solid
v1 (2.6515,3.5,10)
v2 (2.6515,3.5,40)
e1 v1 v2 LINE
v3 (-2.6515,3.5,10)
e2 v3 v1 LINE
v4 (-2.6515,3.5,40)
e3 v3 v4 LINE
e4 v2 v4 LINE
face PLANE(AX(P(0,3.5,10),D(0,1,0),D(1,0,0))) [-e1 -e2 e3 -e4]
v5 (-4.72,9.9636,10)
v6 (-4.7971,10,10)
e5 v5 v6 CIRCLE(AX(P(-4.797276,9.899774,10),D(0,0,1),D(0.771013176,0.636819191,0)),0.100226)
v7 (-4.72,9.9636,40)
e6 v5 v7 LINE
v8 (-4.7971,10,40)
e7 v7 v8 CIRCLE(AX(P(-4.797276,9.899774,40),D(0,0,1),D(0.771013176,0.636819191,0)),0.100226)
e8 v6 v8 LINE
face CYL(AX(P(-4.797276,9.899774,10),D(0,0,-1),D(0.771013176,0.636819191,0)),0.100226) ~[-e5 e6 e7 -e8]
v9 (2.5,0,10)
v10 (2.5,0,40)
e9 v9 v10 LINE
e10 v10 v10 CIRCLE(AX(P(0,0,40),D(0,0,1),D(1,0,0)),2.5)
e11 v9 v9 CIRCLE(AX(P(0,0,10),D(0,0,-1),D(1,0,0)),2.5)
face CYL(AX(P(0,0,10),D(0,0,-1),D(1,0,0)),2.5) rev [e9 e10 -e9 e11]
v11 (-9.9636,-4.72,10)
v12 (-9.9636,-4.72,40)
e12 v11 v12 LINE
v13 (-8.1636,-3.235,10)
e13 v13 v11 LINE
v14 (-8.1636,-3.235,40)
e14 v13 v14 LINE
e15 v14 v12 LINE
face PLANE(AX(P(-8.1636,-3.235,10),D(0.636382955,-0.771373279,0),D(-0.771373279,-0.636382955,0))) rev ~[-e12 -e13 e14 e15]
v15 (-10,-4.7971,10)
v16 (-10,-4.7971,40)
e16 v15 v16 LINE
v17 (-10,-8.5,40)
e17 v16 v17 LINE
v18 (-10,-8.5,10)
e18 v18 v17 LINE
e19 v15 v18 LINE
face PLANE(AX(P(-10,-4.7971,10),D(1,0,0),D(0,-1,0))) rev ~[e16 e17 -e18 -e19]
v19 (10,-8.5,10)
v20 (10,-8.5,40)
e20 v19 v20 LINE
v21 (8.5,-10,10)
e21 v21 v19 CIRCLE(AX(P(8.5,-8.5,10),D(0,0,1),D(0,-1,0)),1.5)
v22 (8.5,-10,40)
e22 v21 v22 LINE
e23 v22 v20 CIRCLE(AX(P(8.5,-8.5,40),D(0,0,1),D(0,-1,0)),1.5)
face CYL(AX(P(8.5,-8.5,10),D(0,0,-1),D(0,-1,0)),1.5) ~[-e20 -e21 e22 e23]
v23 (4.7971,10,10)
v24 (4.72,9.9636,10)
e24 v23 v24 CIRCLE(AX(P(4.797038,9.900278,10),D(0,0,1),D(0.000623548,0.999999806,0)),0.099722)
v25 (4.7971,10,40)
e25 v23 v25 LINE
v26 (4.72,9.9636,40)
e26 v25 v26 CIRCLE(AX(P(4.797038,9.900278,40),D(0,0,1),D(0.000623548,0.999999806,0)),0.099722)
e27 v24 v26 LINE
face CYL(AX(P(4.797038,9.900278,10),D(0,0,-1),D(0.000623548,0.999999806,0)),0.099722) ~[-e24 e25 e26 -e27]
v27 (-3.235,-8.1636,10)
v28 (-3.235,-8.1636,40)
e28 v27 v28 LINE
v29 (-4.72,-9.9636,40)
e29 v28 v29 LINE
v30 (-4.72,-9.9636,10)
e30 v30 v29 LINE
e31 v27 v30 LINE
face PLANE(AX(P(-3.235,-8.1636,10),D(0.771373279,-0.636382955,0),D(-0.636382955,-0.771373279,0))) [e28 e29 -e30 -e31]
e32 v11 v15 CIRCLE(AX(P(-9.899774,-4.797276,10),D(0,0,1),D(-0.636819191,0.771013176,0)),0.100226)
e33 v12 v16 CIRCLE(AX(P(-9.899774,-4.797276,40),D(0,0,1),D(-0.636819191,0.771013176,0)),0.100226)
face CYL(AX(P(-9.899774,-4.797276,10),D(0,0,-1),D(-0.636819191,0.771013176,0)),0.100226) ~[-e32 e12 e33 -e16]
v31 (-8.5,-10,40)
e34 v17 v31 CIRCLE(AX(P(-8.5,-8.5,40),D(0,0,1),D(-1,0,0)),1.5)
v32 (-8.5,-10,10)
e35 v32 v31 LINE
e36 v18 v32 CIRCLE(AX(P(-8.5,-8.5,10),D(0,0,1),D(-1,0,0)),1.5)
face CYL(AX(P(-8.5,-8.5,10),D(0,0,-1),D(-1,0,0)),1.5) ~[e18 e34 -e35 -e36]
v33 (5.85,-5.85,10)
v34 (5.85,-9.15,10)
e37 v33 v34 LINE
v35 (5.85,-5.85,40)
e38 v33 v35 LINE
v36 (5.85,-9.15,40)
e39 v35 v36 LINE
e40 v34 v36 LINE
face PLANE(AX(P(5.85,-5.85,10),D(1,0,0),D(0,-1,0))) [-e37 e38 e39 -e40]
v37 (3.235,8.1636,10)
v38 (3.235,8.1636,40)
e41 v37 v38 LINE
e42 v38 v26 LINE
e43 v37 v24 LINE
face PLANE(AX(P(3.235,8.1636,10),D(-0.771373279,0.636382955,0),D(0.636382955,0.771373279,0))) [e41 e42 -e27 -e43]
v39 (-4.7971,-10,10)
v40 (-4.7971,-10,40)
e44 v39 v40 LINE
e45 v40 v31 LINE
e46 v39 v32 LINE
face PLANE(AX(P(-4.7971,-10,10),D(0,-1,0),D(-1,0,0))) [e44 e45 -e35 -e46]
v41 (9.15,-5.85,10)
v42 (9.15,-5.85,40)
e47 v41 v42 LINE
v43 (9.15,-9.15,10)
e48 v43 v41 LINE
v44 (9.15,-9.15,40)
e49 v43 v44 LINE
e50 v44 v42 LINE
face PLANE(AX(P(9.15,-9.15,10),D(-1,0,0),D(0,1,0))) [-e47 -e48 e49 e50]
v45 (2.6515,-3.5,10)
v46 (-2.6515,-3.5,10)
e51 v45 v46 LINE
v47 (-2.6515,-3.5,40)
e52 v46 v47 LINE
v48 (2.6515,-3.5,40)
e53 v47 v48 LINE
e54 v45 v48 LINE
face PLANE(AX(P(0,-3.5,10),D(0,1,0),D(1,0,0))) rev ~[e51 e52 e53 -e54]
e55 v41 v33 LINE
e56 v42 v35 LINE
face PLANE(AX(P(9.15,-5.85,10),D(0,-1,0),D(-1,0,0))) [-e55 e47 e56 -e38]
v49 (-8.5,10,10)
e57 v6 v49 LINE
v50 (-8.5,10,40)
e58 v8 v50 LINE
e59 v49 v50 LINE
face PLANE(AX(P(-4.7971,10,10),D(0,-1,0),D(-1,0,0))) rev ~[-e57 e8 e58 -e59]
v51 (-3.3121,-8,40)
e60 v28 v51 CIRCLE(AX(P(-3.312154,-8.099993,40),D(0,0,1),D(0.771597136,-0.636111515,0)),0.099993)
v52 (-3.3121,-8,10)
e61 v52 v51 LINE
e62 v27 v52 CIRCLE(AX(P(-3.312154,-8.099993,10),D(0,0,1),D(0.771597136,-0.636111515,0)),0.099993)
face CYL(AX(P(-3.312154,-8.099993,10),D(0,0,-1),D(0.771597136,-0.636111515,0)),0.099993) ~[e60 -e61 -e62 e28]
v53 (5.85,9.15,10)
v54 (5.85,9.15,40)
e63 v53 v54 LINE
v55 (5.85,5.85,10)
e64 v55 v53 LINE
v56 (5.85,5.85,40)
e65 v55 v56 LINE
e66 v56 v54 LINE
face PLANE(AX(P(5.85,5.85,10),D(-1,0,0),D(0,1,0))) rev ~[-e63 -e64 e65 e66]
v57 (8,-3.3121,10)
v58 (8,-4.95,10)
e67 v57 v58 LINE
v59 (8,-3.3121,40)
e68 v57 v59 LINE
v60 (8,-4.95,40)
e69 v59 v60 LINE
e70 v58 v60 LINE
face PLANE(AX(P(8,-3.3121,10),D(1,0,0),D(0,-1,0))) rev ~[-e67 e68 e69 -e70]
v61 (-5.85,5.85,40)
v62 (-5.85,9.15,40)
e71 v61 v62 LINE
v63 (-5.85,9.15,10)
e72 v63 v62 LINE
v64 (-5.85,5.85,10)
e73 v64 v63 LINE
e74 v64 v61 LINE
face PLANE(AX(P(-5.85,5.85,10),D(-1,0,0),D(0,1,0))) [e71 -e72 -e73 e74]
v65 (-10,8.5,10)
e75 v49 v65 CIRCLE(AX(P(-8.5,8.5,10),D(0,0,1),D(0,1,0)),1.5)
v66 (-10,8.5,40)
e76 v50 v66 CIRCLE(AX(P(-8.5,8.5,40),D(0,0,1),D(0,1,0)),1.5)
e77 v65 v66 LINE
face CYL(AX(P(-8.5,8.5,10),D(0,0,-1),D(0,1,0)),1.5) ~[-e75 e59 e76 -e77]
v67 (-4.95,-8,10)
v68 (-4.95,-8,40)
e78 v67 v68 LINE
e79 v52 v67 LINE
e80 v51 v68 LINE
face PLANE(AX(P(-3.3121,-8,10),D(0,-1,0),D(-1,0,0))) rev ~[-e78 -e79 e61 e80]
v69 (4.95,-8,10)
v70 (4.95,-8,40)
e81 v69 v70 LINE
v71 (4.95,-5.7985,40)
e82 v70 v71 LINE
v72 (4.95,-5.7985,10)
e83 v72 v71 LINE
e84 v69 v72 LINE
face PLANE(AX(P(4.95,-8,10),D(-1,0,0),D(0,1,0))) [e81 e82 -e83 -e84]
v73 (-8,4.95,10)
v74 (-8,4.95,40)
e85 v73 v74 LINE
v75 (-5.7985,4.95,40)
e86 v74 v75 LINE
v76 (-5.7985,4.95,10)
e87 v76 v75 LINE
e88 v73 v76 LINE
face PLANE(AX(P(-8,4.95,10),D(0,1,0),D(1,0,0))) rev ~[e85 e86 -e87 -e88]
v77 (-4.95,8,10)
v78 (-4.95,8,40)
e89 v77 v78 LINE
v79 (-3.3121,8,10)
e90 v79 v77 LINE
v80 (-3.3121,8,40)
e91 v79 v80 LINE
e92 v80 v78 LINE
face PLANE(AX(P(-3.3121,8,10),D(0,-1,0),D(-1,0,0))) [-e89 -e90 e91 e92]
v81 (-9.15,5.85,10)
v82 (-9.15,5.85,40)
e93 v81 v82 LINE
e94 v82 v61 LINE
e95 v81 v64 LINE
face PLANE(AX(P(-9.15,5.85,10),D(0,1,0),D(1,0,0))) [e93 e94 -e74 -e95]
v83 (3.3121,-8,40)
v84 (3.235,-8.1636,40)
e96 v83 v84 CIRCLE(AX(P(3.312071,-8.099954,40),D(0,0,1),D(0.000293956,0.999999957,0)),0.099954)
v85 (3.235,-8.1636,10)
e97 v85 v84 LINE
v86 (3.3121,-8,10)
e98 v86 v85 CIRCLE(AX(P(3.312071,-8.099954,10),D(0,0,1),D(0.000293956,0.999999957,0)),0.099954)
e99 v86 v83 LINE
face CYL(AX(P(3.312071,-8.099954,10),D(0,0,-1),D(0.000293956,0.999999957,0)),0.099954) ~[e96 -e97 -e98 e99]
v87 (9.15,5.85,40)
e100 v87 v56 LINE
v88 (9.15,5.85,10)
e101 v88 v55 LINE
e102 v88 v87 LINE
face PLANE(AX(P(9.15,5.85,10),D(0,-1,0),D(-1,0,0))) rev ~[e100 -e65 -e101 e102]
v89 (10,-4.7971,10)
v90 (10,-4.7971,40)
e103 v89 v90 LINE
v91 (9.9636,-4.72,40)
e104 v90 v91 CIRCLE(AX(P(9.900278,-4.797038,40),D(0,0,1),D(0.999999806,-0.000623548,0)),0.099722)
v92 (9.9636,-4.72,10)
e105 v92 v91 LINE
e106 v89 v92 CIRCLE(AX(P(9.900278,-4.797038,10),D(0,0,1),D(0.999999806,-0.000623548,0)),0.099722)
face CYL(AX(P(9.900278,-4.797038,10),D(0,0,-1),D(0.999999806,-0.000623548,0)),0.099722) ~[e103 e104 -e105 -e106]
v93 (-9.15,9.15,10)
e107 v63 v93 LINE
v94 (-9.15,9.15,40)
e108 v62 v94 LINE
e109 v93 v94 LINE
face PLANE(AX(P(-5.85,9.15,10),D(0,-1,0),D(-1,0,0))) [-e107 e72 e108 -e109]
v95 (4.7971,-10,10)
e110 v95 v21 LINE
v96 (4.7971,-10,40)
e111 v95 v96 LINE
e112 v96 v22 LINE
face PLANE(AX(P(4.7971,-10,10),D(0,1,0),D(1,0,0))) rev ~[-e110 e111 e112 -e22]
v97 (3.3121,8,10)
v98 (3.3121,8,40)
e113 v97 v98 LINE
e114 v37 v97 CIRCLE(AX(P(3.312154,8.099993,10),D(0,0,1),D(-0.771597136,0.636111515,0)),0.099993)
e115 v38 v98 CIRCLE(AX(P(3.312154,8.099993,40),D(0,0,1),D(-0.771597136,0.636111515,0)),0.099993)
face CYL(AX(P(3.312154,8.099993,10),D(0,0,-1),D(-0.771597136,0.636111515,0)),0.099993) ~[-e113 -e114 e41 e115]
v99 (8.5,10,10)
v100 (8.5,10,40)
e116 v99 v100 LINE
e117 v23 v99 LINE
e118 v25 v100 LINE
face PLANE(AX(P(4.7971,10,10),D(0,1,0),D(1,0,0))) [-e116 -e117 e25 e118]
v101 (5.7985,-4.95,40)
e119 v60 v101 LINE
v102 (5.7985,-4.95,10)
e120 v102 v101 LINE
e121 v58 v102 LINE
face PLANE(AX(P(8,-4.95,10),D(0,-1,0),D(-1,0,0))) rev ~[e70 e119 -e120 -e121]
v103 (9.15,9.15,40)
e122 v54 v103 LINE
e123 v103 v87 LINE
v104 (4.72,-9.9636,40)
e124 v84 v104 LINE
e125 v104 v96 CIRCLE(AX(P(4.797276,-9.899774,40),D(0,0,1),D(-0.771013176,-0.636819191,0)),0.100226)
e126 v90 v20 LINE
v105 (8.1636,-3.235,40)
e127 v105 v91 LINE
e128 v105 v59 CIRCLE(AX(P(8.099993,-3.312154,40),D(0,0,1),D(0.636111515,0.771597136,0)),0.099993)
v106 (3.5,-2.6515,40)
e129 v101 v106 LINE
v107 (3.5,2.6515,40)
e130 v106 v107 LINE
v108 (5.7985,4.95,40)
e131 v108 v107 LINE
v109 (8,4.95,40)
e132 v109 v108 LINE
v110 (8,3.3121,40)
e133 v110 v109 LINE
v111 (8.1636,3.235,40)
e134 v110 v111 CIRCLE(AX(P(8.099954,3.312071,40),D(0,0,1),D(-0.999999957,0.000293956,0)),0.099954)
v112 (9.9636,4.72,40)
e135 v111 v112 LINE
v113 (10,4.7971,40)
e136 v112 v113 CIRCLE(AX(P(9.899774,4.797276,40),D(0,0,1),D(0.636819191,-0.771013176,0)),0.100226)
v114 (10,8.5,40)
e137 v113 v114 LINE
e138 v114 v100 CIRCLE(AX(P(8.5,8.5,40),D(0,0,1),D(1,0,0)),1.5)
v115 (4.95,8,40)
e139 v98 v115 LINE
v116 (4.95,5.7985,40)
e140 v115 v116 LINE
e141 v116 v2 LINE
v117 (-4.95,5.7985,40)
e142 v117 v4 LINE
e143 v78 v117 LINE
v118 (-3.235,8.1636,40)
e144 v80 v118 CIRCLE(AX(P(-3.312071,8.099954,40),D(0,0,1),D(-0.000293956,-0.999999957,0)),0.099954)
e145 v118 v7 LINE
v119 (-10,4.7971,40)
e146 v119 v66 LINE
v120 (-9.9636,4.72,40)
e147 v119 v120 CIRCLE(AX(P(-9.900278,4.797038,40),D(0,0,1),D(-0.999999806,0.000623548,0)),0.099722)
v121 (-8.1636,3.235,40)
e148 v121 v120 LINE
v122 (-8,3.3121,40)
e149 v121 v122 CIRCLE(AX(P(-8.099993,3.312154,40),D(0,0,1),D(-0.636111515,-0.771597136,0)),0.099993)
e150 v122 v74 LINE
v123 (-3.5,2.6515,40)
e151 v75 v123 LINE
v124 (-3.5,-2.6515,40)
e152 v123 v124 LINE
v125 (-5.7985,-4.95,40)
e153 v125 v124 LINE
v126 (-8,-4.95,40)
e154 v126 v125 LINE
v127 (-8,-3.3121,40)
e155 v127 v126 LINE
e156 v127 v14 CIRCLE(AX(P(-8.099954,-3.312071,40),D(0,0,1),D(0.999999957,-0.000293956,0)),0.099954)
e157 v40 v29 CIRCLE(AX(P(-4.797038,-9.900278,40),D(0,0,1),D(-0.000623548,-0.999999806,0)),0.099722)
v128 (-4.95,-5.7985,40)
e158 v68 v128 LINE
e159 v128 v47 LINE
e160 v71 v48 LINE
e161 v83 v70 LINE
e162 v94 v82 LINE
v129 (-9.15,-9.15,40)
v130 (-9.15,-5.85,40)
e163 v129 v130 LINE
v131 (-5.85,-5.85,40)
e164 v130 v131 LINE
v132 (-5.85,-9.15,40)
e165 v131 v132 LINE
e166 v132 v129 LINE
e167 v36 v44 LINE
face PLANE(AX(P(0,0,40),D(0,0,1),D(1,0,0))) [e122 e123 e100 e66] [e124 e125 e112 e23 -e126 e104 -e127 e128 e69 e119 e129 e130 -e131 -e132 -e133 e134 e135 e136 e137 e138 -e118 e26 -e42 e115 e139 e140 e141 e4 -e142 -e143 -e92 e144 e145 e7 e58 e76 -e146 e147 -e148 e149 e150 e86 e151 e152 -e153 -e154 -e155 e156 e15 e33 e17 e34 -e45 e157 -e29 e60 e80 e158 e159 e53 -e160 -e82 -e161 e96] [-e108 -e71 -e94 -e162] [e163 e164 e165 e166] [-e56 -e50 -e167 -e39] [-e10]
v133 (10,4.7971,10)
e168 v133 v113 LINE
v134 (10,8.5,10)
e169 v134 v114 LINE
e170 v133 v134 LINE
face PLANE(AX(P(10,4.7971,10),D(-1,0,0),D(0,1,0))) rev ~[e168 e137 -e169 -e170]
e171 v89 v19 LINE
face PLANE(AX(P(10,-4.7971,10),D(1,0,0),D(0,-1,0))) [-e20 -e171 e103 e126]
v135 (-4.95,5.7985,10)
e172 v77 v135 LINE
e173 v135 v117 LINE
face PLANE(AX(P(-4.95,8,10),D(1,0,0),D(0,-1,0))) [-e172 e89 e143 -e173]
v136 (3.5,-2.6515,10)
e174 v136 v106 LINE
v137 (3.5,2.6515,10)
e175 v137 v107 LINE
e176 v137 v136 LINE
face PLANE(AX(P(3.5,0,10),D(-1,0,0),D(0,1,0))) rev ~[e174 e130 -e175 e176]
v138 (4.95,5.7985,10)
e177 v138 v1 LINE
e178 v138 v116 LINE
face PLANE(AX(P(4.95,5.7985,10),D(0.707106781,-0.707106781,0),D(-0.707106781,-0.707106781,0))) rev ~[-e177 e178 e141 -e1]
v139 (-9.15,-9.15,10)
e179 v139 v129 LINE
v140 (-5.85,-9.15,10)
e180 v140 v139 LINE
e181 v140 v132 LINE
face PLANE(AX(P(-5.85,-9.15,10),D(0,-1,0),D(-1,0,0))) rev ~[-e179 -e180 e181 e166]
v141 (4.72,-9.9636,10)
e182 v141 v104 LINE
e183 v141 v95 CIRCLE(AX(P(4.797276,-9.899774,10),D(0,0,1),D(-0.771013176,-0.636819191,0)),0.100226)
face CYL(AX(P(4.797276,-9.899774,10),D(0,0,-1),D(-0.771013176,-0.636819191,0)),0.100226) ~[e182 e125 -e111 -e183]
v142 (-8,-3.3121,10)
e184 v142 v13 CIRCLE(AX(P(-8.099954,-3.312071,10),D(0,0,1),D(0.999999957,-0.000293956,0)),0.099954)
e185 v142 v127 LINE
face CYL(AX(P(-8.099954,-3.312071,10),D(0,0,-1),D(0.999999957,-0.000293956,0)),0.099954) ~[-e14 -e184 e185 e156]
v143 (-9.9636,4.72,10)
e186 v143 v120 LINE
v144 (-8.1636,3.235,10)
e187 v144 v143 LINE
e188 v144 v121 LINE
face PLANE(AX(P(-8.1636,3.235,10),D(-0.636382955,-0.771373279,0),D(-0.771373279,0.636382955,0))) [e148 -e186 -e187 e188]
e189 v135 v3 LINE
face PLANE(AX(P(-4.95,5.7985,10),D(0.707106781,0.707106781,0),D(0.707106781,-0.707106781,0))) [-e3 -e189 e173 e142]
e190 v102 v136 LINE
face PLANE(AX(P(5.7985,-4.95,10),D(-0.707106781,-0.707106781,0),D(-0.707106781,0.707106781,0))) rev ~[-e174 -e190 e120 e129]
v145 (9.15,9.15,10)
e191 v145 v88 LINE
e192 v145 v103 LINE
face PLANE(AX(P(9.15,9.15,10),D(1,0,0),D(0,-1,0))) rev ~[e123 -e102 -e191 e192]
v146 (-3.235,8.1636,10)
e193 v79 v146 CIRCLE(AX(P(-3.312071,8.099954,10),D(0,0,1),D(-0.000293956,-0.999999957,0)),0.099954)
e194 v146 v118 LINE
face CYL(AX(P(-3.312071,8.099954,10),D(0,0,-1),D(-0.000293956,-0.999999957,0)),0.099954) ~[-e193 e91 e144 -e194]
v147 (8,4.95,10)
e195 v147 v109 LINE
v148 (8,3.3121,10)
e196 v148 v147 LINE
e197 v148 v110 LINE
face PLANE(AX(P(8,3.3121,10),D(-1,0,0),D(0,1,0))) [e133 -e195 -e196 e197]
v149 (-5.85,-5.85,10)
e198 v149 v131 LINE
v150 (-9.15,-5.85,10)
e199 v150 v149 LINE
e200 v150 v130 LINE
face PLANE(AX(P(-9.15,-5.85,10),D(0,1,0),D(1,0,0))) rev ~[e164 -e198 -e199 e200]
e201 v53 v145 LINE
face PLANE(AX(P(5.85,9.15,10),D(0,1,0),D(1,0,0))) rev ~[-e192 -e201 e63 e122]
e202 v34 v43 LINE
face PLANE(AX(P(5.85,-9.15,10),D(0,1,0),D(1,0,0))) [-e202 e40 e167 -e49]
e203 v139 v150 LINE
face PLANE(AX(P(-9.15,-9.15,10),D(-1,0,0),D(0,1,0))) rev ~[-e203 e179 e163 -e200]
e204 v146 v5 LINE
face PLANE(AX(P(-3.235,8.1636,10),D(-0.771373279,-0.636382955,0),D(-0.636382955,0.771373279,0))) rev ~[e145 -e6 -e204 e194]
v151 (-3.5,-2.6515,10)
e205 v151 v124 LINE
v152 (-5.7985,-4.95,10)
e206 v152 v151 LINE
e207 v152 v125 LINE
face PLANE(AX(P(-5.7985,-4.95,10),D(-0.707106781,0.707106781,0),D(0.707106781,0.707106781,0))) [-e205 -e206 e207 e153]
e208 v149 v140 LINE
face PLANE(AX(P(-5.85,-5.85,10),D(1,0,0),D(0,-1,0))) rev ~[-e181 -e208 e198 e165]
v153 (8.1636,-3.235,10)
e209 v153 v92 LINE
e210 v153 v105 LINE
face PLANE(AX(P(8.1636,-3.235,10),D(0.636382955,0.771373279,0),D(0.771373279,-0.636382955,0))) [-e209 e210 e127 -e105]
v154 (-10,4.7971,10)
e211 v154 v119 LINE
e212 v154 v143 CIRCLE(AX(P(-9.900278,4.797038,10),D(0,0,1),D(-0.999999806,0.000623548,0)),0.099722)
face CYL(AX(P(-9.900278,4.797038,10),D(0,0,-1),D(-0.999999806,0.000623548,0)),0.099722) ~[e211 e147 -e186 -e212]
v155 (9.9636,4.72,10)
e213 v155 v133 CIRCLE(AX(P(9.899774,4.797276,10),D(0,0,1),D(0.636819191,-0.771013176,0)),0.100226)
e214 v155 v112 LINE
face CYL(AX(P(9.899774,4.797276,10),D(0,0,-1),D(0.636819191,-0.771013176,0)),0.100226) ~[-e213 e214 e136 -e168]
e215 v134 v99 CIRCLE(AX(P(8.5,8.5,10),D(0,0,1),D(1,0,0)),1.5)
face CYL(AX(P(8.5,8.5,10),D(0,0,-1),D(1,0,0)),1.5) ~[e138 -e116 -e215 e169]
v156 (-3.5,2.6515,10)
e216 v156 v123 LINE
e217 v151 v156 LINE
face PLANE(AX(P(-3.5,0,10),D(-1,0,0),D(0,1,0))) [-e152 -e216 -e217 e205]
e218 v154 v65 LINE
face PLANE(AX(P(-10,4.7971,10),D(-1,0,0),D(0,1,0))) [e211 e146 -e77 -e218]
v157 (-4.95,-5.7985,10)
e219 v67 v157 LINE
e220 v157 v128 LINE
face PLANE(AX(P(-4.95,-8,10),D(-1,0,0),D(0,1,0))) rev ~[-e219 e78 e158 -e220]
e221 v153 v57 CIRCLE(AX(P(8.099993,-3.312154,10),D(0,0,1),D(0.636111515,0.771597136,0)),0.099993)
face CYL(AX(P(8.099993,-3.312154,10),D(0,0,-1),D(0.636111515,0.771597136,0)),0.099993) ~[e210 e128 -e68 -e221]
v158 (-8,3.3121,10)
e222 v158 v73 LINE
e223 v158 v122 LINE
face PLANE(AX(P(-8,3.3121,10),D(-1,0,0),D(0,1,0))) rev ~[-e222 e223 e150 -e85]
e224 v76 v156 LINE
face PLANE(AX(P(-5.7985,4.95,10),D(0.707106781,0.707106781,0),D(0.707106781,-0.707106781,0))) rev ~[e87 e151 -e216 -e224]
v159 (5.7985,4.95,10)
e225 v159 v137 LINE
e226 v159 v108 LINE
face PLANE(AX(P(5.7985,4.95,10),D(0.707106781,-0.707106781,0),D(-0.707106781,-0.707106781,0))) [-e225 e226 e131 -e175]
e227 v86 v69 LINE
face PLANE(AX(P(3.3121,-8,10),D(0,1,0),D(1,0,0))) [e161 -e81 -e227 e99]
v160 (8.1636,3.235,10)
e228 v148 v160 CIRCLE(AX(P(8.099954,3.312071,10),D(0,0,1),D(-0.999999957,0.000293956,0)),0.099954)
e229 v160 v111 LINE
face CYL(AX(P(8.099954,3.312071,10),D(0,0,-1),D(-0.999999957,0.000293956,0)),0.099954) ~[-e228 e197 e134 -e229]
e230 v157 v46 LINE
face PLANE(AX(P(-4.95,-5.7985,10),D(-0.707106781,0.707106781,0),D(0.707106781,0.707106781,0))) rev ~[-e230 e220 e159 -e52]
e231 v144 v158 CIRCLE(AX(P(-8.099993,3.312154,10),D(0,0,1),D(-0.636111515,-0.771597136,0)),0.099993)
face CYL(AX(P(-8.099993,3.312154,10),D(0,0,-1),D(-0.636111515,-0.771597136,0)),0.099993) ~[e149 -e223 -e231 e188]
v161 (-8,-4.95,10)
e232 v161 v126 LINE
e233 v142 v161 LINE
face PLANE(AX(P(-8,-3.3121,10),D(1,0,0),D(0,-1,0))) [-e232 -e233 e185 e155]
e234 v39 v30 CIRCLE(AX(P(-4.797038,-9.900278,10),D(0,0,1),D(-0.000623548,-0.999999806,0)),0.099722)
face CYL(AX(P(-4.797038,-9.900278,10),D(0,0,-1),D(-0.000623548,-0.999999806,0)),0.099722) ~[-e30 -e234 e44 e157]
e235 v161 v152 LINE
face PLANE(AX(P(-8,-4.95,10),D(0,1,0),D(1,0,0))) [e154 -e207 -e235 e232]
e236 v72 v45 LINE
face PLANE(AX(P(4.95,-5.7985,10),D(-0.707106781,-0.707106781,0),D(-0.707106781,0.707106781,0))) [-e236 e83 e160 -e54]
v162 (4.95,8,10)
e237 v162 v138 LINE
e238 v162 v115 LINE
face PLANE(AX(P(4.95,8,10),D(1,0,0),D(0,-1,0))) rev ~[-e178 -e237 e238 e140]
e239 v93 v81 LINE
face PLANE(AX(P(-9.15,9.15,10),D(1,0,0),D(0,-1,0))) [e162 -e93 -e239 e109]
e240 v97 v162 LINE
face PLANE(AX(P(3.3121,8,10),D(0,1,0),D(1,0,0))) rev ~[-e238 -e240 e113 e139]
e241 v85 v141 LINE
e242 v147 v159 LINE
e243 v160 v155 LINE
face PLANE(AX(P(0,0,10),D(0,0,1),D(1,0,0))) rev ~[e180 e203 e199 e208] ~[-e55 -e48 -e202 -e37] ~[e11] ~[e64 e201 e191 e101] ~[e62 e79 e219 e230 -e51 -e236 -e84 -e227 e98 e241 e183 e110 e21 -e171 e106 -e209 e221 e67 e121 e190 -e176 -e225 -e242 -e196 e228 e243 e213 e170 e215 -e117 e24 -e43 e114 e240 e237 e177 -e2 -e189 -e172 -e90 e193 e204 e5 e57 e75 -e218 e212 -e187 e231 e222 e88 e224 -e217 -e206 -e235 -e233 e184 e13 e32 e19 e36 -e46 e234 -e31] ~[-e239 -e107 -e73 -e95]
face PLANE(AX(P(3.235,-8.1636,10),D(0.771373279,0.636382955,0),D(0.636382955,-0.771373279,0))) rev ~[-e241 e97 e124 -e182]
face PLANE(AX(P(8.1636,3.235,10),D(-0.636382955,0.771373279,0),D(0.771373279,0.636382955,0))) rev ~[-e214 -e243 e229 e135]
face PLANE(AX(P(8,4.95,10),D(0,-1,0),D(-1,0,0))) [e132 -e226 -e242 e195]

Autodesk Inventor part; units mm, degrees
ref_plane "Начальная плоскость" through (0, 0, 10) normal (0, 0, 1) x (1, 0, 0)
ref_plane "Конечная плоскость" through (0, 0, 40) normal (0, 0, 1) x (1, 0, 0)
sketch "Эскиз" plane through (0, 0, 0) normal (0, 0, 1) x (1, 0, 0)
  line L0 (-14.4349, 0) -> (14.4349, 0) projected
  line L1 (0, -14) -> (0, 14) projected
  line L2 (0, 0) -> (7.5, 7.5) construction
  circle A0 centre (7.5, 7.5) radius 1.65 construction
  line L3 (5.85, 9.15) -> (9.15, 9.15)
  line L4 (9.15, 9.15) -> (9.15, 5.85)
  line L5 (9.15, 5.85) -> (5.85, 5.85)
  line L6 (5.85, 5.85) -> (5.85, 9.15)
  line L7 (3.235, 8.1636) -> (4.72, 9.9636)
  line L8 (4.7971, 10) -> (8.5, 10)
  line L9 (3.3121, 8) -> (4.95, 8)
  line L10 (4.95, 8) -> (4.95, 5.7985)
  line L11 (4.95, 5.7985) -> (2.6515, 3.5)
  line L12 (0, 3.5) -> (2.6515, 3.5)
  circle A1 centre (0, 0) radius 2.5
  line L13 (8.1636, 3.235) -> (9.9636, 4.72)
  line L14 (10, 4.7971) -> (10, 8.5)
  line L15 (8, 3.3121) -> (8, 4.95)
  line L16 (8, 4.95) -> (5.7985, 4.95)
  line L17 (5.7985, 4.95) -> (3.5, 2.6515)
  line L18 (3.5, 0) -> (3.5, 2.6515)
  arc A2 (10, 8.5) -> (8.5, 10) centre (8.5, 8.5) ccw
  line L19 (0, 0) -> (-7.5, 7.5) construction
  circle A3 centre (-7.5, 7.5) radius 1.65 construction
  line L20 (-5.85, 9.15) -> (-9.15, 9.15)
  line L21 (-9.15, 9.15) -> (-9.15, 5.85)
  line L22 (-9.15, 5.85) -> (-5.85, 5.85)
  line L23 (-5.85, 5.85) -> (-5.85, 9.15)
  line L24 (-3.235, 8.1636) -> (-4.72, 9.9636)
  line L25 (-4.7971, 10) -> (-8.5, 10)
  line L26 (-3.3121, 8) -> (-4.95, 8)
  line L27 (-4.95, 8) -> (-4.95, 5.7985)
  line L28 (-4.95, 5.7985) -> (-2.6515, 3.5)
  line L29 (0, 3.5) -> (-2.6515, 3.5)
  line L30 (-3.5, 0) -> (-3.5, 2.6515)
  line L31 (-5.7985, 4.95) -> (-3.5, 2.6515)
  line L32 (-8, 4.95) -> (-5.7985, 4.95)
  line L33 (-8, 3.3121) -> (-8, 4.95)
  line L34 (-8.1636, 3.235) -> (-9.9636, 4.72)
  line L35 (-10, 4.7971) -> (-10, 8.5)
  arc A4 (-8.5, 10) -> (-10, 8.5) centre (-8.5, 8.5) ccw
  line L36 (0, 14) -> (0, -14)
  line L37 (0, 0) -> (7.5, -7.5) construction
  circle A5 centre (7.5, -7.5) radius 1.65 construction
  line L38 (5.85, -9.15) -> (9.15, -9.15)
  line L39 (9.15, -9.15) -> (9.15, -5.85)
  line L40 (9.15, -5.85) -> (5.85, -5.85)
  line L41 (5.85, -5.85) -> (5.85, -9.15)
  line L42 (3.235, -8.1636) -> (4.72, -9.9636)
  line L43 (4.7971, -10) -> (8.5, -10)
  line L44 (3.3121, -8) -> (4.95, -8)
  line L45 (4.95, -8) -> (4.95, -5.7985)
  line L46 (4.95, -5.7985) -> (2.6515, -3.5)
  line L47 (0, -3.5) -> (2.6515, -3.5)
  line L48 (3.5, 0) -> (3.5, -2.6515)
  line L49 (5.7985, -4.95) -> (3.5, -2.6515)
  line L50 (8, -4.95) -> (5.7985, -4.95)
  line L51 (8, -3.3121) -> (8, -4.95)
  line L52 (8.1636, -3.235) -> (9.9636, -4.72)
  line L53 (10, -4.7971) -> (10, -8.5)
  arc A6 (8.5, -10) -> (10, -8.5) centre (8.5, -8.5) ccw
  line L54 (0, 0) -> (-7.5, -7.5) construction
  line L55 (-4.95, -8) -> (-4.95, -5.7985)
  line L56 (-3.3121, -8) -> (-4.95, -8)
  line L57 (-5.7985, -4.95) -> (-3.5, -2.6515)
  line L58 (-4.95, -5.7985) -> (-2.6515, -3.5)
  line L59 (-3.5, 0) -> (-3.5, -2.6515)
  line L60 (0, -3.5) -> (-2.6515, -3.5)
  circle A7 centre (-7.5, -7.5) radius 1.65 construction
  line L61 (-5.85, -5.85) -> (-5.85, -9.15)
  line L62 (-5.85, -9.15) -> (-9.15, -9.15)
  line L63 (-9.15, -9.15) -> (-9.15, -5.85)
  line L64 (-9.15, -5.85) -> (-5.85, -5.85)
  line L65 (-3.235, -8.1636) -> (-4.72, -9.9636)
  line L66 (-8, -4.95) -> (-5.7985, -4.95)
  line L67 (-8, -3.3121) -> (-8, -4.95)
  line L68 (-8.1636, -3.235) -> (-9.9636, -4.72)
  line L69 (-4.7971, -10) -> (-8.5, -10)
  line L70 (-10, -4.7971) -> (-10, -8.5)
  arc A8 (-10, -8.5) -> (-8.5, -10) centre (-8.5, -8.5) ccw
  arc A9 (3.235, 8.1636) -> (3.3121, 8) centre (3.3121, 8.1) ccw
  arc A10 (4.7971, 10) -> (4.72, 9.9636) centre (4.7971, 9.9) ccw
  arc A11 (8, 3.3121) -> (8.1636, 3.235) centre (8.1, 3.3121) ccw
  arc A12 (9.9636, 4.72) -> (10, 4.7971) centre (9.9, 4.7971) ccw
  arc A13 (-3.3121, 8) -> (-3.235, 8.1636) centre (-3.3121, 8.1) ccw
  arc A14 (-4.72, 9.9636) -> (-4.7971, 10) centre (-4.7971, 9.9) ccw
  arc A15 (-8.1636, 3.235) -> (-8, 3.3121) centre (-8.1, 3.3121) ccw
  arc A16 (-10, 4.7971) -> (-9.9636, 4.72) centre (-9.9, 4.7971) ccw
  arc A17 (-8, -3.3121) -> (-8.1636, -3.235) centre (-8.1, -3.3121) ccw
  arc A18 (-9.9636, -4.72) -> (-10, -4.7971) centre (-9.9, -4.7971) ccw
  arc A19 (-3.235, -8.1636) -> (-3.3121, -8) centre (-3.3121, -8.1) ccw
  arc A20 (-4.7971, -10) -> (-4.72, -9.9636) centre (-4.7971, -9.9) ccw
  arc A21 (4.72, -9.9636) -> (4.7971, -10) centre (4.7971, -9.9) ccw
  arc A22 (3.3121, -8) -> (3.235, -8.1636) centre (3.3121, -8.1) ccw
  arc A23 (8.1636, -3.235) -> (8, -3.3121) centre (8.1, -3.3121) ccw
  arc A24 (10, -4.7971) -> (9.9636, -4.72) centre (9.9, -4.7971) ccw
  point P0 (3.1, 8)
  point P1 (4.75, 10)
  point P2 (7.5, 9.15)
  point P3 (8, 3.1)
  point P4 (10, 4.75)
  point P5 (7.5, 5.85)
  point P6 (9.15, 7.5)
  point P7 (-3.1, 8)
  point P8 (-4.75, 10)
  point P9 (-7.5, 9.15)
  point P10 (-8, 3.1)
  point P11 (-10, 4.75)
  point P12 (-7.5, 5.85)
  point P13 (-9.15, 7.5)
  point P14 (3.1, -8)
  point P15 (4.75, -10)
  point P16 (7.5, -9.15)
  point P17 (8, -3.1)
  point P18 (10, -4.75)
  point P19 (7.5, -5.85)
  point P20 (9.15, -7.5)
  point P21 (-3.1, -8)
  point P22 (-7.5, -5.85)
  point P23 (-7.5, -9.15)
  point P24 (-9.15, -7.5)
  point P25 (-4.75, -10)
  point P26 (-8, -3.1)
  point P27 (-10, -4.75)
  dimension "d0" = 45
  dimension "d1" = 3.3
  dimension "d2" = 1.5
  dimension "d3" = 1.2
  dimension "d4" = 5
  dimension "d5" = 6.5
  dimension "d6" = 15
  dimension "d7" = 20
  dimension "d8" = 9.9
  dimension "d9" = 9.5
  dimension "d10" = 6.2
  dimension "d11" = 2
  dimension "d18" = 0.1
  dimension "d19" = 0.1
extrude "Тело" add sketch "Эскиз" along normal up to surface (30 mm away) from surface at 10 contours A1 L1 L12 L11 L10 L9 A9 L7 A10 L8 A2 L14 A12 L13 A11 L15 L16 L17 L18 L0 | L0 L48 L49 L50 L51 A23 L52 A24 L53 A6 L43 A21 L42 A22 L44 L45 L46 L47 L1 A1 | A1 L0 L30 L31 L32 L33 A15 L34 A16 L35 A4 L25 A14 L24 A13 L26 L27 L28 L29 L1 | L1 L60 L58 L55 L56 A19 L65 A20 L69 A8 L70 A18 L68 A17 L67 L66 L57 L59 L0 A1
sketch "Эскиз2" plane through (0, 0, 0) normal (0, 0, 1) x (1, 0, 0)
  line L0 (0, 0) -> (10, 0)
ref_plane "РабПлоскость3" through (0, 0, 0) normal (0, -1, 0) x (1, 0, 0)
sketch "Эскиз3" plane through (0, 0, 0) normal (0, -1, 0) x (1, 0, 0)
  line L0 (-2, 10) -> (12, 10)
  line L1 (-2, 40) -> (12, 40)
  dimension "d25" = 30
ref_plane "РабПлоскость4" through (0, -300, 40) normal (0, 0, 1) x (1, 0, 0)
split "Разделение1" plane through (0, -300, 40) removes the side toward (0, 0, 1)
ref_plane "РабПлоскость5" through (10, 0, 60) normal (0, 0, 1) x (1, 0, 0)
split "Разделение2" plane through (10, 0, 60) removes the side toward (0, 0, 1)
ref_plane "РабПлоскость6" through (0, 10, 10) normal (0, 0, -1) x (-1, 0, 0)
split "Разделение3" plane through (0, 10, 10) removes the side toward (0, 0, -1)
ref_plane "РабПлоскость7" through (590, 0, 10) normal (0, 0, -1) x (-1, 0, 0)
split "Разделение4" plane through (590, 0, 10) removes the side toward (0, 0, -1)
properties part number "короткая палка"
